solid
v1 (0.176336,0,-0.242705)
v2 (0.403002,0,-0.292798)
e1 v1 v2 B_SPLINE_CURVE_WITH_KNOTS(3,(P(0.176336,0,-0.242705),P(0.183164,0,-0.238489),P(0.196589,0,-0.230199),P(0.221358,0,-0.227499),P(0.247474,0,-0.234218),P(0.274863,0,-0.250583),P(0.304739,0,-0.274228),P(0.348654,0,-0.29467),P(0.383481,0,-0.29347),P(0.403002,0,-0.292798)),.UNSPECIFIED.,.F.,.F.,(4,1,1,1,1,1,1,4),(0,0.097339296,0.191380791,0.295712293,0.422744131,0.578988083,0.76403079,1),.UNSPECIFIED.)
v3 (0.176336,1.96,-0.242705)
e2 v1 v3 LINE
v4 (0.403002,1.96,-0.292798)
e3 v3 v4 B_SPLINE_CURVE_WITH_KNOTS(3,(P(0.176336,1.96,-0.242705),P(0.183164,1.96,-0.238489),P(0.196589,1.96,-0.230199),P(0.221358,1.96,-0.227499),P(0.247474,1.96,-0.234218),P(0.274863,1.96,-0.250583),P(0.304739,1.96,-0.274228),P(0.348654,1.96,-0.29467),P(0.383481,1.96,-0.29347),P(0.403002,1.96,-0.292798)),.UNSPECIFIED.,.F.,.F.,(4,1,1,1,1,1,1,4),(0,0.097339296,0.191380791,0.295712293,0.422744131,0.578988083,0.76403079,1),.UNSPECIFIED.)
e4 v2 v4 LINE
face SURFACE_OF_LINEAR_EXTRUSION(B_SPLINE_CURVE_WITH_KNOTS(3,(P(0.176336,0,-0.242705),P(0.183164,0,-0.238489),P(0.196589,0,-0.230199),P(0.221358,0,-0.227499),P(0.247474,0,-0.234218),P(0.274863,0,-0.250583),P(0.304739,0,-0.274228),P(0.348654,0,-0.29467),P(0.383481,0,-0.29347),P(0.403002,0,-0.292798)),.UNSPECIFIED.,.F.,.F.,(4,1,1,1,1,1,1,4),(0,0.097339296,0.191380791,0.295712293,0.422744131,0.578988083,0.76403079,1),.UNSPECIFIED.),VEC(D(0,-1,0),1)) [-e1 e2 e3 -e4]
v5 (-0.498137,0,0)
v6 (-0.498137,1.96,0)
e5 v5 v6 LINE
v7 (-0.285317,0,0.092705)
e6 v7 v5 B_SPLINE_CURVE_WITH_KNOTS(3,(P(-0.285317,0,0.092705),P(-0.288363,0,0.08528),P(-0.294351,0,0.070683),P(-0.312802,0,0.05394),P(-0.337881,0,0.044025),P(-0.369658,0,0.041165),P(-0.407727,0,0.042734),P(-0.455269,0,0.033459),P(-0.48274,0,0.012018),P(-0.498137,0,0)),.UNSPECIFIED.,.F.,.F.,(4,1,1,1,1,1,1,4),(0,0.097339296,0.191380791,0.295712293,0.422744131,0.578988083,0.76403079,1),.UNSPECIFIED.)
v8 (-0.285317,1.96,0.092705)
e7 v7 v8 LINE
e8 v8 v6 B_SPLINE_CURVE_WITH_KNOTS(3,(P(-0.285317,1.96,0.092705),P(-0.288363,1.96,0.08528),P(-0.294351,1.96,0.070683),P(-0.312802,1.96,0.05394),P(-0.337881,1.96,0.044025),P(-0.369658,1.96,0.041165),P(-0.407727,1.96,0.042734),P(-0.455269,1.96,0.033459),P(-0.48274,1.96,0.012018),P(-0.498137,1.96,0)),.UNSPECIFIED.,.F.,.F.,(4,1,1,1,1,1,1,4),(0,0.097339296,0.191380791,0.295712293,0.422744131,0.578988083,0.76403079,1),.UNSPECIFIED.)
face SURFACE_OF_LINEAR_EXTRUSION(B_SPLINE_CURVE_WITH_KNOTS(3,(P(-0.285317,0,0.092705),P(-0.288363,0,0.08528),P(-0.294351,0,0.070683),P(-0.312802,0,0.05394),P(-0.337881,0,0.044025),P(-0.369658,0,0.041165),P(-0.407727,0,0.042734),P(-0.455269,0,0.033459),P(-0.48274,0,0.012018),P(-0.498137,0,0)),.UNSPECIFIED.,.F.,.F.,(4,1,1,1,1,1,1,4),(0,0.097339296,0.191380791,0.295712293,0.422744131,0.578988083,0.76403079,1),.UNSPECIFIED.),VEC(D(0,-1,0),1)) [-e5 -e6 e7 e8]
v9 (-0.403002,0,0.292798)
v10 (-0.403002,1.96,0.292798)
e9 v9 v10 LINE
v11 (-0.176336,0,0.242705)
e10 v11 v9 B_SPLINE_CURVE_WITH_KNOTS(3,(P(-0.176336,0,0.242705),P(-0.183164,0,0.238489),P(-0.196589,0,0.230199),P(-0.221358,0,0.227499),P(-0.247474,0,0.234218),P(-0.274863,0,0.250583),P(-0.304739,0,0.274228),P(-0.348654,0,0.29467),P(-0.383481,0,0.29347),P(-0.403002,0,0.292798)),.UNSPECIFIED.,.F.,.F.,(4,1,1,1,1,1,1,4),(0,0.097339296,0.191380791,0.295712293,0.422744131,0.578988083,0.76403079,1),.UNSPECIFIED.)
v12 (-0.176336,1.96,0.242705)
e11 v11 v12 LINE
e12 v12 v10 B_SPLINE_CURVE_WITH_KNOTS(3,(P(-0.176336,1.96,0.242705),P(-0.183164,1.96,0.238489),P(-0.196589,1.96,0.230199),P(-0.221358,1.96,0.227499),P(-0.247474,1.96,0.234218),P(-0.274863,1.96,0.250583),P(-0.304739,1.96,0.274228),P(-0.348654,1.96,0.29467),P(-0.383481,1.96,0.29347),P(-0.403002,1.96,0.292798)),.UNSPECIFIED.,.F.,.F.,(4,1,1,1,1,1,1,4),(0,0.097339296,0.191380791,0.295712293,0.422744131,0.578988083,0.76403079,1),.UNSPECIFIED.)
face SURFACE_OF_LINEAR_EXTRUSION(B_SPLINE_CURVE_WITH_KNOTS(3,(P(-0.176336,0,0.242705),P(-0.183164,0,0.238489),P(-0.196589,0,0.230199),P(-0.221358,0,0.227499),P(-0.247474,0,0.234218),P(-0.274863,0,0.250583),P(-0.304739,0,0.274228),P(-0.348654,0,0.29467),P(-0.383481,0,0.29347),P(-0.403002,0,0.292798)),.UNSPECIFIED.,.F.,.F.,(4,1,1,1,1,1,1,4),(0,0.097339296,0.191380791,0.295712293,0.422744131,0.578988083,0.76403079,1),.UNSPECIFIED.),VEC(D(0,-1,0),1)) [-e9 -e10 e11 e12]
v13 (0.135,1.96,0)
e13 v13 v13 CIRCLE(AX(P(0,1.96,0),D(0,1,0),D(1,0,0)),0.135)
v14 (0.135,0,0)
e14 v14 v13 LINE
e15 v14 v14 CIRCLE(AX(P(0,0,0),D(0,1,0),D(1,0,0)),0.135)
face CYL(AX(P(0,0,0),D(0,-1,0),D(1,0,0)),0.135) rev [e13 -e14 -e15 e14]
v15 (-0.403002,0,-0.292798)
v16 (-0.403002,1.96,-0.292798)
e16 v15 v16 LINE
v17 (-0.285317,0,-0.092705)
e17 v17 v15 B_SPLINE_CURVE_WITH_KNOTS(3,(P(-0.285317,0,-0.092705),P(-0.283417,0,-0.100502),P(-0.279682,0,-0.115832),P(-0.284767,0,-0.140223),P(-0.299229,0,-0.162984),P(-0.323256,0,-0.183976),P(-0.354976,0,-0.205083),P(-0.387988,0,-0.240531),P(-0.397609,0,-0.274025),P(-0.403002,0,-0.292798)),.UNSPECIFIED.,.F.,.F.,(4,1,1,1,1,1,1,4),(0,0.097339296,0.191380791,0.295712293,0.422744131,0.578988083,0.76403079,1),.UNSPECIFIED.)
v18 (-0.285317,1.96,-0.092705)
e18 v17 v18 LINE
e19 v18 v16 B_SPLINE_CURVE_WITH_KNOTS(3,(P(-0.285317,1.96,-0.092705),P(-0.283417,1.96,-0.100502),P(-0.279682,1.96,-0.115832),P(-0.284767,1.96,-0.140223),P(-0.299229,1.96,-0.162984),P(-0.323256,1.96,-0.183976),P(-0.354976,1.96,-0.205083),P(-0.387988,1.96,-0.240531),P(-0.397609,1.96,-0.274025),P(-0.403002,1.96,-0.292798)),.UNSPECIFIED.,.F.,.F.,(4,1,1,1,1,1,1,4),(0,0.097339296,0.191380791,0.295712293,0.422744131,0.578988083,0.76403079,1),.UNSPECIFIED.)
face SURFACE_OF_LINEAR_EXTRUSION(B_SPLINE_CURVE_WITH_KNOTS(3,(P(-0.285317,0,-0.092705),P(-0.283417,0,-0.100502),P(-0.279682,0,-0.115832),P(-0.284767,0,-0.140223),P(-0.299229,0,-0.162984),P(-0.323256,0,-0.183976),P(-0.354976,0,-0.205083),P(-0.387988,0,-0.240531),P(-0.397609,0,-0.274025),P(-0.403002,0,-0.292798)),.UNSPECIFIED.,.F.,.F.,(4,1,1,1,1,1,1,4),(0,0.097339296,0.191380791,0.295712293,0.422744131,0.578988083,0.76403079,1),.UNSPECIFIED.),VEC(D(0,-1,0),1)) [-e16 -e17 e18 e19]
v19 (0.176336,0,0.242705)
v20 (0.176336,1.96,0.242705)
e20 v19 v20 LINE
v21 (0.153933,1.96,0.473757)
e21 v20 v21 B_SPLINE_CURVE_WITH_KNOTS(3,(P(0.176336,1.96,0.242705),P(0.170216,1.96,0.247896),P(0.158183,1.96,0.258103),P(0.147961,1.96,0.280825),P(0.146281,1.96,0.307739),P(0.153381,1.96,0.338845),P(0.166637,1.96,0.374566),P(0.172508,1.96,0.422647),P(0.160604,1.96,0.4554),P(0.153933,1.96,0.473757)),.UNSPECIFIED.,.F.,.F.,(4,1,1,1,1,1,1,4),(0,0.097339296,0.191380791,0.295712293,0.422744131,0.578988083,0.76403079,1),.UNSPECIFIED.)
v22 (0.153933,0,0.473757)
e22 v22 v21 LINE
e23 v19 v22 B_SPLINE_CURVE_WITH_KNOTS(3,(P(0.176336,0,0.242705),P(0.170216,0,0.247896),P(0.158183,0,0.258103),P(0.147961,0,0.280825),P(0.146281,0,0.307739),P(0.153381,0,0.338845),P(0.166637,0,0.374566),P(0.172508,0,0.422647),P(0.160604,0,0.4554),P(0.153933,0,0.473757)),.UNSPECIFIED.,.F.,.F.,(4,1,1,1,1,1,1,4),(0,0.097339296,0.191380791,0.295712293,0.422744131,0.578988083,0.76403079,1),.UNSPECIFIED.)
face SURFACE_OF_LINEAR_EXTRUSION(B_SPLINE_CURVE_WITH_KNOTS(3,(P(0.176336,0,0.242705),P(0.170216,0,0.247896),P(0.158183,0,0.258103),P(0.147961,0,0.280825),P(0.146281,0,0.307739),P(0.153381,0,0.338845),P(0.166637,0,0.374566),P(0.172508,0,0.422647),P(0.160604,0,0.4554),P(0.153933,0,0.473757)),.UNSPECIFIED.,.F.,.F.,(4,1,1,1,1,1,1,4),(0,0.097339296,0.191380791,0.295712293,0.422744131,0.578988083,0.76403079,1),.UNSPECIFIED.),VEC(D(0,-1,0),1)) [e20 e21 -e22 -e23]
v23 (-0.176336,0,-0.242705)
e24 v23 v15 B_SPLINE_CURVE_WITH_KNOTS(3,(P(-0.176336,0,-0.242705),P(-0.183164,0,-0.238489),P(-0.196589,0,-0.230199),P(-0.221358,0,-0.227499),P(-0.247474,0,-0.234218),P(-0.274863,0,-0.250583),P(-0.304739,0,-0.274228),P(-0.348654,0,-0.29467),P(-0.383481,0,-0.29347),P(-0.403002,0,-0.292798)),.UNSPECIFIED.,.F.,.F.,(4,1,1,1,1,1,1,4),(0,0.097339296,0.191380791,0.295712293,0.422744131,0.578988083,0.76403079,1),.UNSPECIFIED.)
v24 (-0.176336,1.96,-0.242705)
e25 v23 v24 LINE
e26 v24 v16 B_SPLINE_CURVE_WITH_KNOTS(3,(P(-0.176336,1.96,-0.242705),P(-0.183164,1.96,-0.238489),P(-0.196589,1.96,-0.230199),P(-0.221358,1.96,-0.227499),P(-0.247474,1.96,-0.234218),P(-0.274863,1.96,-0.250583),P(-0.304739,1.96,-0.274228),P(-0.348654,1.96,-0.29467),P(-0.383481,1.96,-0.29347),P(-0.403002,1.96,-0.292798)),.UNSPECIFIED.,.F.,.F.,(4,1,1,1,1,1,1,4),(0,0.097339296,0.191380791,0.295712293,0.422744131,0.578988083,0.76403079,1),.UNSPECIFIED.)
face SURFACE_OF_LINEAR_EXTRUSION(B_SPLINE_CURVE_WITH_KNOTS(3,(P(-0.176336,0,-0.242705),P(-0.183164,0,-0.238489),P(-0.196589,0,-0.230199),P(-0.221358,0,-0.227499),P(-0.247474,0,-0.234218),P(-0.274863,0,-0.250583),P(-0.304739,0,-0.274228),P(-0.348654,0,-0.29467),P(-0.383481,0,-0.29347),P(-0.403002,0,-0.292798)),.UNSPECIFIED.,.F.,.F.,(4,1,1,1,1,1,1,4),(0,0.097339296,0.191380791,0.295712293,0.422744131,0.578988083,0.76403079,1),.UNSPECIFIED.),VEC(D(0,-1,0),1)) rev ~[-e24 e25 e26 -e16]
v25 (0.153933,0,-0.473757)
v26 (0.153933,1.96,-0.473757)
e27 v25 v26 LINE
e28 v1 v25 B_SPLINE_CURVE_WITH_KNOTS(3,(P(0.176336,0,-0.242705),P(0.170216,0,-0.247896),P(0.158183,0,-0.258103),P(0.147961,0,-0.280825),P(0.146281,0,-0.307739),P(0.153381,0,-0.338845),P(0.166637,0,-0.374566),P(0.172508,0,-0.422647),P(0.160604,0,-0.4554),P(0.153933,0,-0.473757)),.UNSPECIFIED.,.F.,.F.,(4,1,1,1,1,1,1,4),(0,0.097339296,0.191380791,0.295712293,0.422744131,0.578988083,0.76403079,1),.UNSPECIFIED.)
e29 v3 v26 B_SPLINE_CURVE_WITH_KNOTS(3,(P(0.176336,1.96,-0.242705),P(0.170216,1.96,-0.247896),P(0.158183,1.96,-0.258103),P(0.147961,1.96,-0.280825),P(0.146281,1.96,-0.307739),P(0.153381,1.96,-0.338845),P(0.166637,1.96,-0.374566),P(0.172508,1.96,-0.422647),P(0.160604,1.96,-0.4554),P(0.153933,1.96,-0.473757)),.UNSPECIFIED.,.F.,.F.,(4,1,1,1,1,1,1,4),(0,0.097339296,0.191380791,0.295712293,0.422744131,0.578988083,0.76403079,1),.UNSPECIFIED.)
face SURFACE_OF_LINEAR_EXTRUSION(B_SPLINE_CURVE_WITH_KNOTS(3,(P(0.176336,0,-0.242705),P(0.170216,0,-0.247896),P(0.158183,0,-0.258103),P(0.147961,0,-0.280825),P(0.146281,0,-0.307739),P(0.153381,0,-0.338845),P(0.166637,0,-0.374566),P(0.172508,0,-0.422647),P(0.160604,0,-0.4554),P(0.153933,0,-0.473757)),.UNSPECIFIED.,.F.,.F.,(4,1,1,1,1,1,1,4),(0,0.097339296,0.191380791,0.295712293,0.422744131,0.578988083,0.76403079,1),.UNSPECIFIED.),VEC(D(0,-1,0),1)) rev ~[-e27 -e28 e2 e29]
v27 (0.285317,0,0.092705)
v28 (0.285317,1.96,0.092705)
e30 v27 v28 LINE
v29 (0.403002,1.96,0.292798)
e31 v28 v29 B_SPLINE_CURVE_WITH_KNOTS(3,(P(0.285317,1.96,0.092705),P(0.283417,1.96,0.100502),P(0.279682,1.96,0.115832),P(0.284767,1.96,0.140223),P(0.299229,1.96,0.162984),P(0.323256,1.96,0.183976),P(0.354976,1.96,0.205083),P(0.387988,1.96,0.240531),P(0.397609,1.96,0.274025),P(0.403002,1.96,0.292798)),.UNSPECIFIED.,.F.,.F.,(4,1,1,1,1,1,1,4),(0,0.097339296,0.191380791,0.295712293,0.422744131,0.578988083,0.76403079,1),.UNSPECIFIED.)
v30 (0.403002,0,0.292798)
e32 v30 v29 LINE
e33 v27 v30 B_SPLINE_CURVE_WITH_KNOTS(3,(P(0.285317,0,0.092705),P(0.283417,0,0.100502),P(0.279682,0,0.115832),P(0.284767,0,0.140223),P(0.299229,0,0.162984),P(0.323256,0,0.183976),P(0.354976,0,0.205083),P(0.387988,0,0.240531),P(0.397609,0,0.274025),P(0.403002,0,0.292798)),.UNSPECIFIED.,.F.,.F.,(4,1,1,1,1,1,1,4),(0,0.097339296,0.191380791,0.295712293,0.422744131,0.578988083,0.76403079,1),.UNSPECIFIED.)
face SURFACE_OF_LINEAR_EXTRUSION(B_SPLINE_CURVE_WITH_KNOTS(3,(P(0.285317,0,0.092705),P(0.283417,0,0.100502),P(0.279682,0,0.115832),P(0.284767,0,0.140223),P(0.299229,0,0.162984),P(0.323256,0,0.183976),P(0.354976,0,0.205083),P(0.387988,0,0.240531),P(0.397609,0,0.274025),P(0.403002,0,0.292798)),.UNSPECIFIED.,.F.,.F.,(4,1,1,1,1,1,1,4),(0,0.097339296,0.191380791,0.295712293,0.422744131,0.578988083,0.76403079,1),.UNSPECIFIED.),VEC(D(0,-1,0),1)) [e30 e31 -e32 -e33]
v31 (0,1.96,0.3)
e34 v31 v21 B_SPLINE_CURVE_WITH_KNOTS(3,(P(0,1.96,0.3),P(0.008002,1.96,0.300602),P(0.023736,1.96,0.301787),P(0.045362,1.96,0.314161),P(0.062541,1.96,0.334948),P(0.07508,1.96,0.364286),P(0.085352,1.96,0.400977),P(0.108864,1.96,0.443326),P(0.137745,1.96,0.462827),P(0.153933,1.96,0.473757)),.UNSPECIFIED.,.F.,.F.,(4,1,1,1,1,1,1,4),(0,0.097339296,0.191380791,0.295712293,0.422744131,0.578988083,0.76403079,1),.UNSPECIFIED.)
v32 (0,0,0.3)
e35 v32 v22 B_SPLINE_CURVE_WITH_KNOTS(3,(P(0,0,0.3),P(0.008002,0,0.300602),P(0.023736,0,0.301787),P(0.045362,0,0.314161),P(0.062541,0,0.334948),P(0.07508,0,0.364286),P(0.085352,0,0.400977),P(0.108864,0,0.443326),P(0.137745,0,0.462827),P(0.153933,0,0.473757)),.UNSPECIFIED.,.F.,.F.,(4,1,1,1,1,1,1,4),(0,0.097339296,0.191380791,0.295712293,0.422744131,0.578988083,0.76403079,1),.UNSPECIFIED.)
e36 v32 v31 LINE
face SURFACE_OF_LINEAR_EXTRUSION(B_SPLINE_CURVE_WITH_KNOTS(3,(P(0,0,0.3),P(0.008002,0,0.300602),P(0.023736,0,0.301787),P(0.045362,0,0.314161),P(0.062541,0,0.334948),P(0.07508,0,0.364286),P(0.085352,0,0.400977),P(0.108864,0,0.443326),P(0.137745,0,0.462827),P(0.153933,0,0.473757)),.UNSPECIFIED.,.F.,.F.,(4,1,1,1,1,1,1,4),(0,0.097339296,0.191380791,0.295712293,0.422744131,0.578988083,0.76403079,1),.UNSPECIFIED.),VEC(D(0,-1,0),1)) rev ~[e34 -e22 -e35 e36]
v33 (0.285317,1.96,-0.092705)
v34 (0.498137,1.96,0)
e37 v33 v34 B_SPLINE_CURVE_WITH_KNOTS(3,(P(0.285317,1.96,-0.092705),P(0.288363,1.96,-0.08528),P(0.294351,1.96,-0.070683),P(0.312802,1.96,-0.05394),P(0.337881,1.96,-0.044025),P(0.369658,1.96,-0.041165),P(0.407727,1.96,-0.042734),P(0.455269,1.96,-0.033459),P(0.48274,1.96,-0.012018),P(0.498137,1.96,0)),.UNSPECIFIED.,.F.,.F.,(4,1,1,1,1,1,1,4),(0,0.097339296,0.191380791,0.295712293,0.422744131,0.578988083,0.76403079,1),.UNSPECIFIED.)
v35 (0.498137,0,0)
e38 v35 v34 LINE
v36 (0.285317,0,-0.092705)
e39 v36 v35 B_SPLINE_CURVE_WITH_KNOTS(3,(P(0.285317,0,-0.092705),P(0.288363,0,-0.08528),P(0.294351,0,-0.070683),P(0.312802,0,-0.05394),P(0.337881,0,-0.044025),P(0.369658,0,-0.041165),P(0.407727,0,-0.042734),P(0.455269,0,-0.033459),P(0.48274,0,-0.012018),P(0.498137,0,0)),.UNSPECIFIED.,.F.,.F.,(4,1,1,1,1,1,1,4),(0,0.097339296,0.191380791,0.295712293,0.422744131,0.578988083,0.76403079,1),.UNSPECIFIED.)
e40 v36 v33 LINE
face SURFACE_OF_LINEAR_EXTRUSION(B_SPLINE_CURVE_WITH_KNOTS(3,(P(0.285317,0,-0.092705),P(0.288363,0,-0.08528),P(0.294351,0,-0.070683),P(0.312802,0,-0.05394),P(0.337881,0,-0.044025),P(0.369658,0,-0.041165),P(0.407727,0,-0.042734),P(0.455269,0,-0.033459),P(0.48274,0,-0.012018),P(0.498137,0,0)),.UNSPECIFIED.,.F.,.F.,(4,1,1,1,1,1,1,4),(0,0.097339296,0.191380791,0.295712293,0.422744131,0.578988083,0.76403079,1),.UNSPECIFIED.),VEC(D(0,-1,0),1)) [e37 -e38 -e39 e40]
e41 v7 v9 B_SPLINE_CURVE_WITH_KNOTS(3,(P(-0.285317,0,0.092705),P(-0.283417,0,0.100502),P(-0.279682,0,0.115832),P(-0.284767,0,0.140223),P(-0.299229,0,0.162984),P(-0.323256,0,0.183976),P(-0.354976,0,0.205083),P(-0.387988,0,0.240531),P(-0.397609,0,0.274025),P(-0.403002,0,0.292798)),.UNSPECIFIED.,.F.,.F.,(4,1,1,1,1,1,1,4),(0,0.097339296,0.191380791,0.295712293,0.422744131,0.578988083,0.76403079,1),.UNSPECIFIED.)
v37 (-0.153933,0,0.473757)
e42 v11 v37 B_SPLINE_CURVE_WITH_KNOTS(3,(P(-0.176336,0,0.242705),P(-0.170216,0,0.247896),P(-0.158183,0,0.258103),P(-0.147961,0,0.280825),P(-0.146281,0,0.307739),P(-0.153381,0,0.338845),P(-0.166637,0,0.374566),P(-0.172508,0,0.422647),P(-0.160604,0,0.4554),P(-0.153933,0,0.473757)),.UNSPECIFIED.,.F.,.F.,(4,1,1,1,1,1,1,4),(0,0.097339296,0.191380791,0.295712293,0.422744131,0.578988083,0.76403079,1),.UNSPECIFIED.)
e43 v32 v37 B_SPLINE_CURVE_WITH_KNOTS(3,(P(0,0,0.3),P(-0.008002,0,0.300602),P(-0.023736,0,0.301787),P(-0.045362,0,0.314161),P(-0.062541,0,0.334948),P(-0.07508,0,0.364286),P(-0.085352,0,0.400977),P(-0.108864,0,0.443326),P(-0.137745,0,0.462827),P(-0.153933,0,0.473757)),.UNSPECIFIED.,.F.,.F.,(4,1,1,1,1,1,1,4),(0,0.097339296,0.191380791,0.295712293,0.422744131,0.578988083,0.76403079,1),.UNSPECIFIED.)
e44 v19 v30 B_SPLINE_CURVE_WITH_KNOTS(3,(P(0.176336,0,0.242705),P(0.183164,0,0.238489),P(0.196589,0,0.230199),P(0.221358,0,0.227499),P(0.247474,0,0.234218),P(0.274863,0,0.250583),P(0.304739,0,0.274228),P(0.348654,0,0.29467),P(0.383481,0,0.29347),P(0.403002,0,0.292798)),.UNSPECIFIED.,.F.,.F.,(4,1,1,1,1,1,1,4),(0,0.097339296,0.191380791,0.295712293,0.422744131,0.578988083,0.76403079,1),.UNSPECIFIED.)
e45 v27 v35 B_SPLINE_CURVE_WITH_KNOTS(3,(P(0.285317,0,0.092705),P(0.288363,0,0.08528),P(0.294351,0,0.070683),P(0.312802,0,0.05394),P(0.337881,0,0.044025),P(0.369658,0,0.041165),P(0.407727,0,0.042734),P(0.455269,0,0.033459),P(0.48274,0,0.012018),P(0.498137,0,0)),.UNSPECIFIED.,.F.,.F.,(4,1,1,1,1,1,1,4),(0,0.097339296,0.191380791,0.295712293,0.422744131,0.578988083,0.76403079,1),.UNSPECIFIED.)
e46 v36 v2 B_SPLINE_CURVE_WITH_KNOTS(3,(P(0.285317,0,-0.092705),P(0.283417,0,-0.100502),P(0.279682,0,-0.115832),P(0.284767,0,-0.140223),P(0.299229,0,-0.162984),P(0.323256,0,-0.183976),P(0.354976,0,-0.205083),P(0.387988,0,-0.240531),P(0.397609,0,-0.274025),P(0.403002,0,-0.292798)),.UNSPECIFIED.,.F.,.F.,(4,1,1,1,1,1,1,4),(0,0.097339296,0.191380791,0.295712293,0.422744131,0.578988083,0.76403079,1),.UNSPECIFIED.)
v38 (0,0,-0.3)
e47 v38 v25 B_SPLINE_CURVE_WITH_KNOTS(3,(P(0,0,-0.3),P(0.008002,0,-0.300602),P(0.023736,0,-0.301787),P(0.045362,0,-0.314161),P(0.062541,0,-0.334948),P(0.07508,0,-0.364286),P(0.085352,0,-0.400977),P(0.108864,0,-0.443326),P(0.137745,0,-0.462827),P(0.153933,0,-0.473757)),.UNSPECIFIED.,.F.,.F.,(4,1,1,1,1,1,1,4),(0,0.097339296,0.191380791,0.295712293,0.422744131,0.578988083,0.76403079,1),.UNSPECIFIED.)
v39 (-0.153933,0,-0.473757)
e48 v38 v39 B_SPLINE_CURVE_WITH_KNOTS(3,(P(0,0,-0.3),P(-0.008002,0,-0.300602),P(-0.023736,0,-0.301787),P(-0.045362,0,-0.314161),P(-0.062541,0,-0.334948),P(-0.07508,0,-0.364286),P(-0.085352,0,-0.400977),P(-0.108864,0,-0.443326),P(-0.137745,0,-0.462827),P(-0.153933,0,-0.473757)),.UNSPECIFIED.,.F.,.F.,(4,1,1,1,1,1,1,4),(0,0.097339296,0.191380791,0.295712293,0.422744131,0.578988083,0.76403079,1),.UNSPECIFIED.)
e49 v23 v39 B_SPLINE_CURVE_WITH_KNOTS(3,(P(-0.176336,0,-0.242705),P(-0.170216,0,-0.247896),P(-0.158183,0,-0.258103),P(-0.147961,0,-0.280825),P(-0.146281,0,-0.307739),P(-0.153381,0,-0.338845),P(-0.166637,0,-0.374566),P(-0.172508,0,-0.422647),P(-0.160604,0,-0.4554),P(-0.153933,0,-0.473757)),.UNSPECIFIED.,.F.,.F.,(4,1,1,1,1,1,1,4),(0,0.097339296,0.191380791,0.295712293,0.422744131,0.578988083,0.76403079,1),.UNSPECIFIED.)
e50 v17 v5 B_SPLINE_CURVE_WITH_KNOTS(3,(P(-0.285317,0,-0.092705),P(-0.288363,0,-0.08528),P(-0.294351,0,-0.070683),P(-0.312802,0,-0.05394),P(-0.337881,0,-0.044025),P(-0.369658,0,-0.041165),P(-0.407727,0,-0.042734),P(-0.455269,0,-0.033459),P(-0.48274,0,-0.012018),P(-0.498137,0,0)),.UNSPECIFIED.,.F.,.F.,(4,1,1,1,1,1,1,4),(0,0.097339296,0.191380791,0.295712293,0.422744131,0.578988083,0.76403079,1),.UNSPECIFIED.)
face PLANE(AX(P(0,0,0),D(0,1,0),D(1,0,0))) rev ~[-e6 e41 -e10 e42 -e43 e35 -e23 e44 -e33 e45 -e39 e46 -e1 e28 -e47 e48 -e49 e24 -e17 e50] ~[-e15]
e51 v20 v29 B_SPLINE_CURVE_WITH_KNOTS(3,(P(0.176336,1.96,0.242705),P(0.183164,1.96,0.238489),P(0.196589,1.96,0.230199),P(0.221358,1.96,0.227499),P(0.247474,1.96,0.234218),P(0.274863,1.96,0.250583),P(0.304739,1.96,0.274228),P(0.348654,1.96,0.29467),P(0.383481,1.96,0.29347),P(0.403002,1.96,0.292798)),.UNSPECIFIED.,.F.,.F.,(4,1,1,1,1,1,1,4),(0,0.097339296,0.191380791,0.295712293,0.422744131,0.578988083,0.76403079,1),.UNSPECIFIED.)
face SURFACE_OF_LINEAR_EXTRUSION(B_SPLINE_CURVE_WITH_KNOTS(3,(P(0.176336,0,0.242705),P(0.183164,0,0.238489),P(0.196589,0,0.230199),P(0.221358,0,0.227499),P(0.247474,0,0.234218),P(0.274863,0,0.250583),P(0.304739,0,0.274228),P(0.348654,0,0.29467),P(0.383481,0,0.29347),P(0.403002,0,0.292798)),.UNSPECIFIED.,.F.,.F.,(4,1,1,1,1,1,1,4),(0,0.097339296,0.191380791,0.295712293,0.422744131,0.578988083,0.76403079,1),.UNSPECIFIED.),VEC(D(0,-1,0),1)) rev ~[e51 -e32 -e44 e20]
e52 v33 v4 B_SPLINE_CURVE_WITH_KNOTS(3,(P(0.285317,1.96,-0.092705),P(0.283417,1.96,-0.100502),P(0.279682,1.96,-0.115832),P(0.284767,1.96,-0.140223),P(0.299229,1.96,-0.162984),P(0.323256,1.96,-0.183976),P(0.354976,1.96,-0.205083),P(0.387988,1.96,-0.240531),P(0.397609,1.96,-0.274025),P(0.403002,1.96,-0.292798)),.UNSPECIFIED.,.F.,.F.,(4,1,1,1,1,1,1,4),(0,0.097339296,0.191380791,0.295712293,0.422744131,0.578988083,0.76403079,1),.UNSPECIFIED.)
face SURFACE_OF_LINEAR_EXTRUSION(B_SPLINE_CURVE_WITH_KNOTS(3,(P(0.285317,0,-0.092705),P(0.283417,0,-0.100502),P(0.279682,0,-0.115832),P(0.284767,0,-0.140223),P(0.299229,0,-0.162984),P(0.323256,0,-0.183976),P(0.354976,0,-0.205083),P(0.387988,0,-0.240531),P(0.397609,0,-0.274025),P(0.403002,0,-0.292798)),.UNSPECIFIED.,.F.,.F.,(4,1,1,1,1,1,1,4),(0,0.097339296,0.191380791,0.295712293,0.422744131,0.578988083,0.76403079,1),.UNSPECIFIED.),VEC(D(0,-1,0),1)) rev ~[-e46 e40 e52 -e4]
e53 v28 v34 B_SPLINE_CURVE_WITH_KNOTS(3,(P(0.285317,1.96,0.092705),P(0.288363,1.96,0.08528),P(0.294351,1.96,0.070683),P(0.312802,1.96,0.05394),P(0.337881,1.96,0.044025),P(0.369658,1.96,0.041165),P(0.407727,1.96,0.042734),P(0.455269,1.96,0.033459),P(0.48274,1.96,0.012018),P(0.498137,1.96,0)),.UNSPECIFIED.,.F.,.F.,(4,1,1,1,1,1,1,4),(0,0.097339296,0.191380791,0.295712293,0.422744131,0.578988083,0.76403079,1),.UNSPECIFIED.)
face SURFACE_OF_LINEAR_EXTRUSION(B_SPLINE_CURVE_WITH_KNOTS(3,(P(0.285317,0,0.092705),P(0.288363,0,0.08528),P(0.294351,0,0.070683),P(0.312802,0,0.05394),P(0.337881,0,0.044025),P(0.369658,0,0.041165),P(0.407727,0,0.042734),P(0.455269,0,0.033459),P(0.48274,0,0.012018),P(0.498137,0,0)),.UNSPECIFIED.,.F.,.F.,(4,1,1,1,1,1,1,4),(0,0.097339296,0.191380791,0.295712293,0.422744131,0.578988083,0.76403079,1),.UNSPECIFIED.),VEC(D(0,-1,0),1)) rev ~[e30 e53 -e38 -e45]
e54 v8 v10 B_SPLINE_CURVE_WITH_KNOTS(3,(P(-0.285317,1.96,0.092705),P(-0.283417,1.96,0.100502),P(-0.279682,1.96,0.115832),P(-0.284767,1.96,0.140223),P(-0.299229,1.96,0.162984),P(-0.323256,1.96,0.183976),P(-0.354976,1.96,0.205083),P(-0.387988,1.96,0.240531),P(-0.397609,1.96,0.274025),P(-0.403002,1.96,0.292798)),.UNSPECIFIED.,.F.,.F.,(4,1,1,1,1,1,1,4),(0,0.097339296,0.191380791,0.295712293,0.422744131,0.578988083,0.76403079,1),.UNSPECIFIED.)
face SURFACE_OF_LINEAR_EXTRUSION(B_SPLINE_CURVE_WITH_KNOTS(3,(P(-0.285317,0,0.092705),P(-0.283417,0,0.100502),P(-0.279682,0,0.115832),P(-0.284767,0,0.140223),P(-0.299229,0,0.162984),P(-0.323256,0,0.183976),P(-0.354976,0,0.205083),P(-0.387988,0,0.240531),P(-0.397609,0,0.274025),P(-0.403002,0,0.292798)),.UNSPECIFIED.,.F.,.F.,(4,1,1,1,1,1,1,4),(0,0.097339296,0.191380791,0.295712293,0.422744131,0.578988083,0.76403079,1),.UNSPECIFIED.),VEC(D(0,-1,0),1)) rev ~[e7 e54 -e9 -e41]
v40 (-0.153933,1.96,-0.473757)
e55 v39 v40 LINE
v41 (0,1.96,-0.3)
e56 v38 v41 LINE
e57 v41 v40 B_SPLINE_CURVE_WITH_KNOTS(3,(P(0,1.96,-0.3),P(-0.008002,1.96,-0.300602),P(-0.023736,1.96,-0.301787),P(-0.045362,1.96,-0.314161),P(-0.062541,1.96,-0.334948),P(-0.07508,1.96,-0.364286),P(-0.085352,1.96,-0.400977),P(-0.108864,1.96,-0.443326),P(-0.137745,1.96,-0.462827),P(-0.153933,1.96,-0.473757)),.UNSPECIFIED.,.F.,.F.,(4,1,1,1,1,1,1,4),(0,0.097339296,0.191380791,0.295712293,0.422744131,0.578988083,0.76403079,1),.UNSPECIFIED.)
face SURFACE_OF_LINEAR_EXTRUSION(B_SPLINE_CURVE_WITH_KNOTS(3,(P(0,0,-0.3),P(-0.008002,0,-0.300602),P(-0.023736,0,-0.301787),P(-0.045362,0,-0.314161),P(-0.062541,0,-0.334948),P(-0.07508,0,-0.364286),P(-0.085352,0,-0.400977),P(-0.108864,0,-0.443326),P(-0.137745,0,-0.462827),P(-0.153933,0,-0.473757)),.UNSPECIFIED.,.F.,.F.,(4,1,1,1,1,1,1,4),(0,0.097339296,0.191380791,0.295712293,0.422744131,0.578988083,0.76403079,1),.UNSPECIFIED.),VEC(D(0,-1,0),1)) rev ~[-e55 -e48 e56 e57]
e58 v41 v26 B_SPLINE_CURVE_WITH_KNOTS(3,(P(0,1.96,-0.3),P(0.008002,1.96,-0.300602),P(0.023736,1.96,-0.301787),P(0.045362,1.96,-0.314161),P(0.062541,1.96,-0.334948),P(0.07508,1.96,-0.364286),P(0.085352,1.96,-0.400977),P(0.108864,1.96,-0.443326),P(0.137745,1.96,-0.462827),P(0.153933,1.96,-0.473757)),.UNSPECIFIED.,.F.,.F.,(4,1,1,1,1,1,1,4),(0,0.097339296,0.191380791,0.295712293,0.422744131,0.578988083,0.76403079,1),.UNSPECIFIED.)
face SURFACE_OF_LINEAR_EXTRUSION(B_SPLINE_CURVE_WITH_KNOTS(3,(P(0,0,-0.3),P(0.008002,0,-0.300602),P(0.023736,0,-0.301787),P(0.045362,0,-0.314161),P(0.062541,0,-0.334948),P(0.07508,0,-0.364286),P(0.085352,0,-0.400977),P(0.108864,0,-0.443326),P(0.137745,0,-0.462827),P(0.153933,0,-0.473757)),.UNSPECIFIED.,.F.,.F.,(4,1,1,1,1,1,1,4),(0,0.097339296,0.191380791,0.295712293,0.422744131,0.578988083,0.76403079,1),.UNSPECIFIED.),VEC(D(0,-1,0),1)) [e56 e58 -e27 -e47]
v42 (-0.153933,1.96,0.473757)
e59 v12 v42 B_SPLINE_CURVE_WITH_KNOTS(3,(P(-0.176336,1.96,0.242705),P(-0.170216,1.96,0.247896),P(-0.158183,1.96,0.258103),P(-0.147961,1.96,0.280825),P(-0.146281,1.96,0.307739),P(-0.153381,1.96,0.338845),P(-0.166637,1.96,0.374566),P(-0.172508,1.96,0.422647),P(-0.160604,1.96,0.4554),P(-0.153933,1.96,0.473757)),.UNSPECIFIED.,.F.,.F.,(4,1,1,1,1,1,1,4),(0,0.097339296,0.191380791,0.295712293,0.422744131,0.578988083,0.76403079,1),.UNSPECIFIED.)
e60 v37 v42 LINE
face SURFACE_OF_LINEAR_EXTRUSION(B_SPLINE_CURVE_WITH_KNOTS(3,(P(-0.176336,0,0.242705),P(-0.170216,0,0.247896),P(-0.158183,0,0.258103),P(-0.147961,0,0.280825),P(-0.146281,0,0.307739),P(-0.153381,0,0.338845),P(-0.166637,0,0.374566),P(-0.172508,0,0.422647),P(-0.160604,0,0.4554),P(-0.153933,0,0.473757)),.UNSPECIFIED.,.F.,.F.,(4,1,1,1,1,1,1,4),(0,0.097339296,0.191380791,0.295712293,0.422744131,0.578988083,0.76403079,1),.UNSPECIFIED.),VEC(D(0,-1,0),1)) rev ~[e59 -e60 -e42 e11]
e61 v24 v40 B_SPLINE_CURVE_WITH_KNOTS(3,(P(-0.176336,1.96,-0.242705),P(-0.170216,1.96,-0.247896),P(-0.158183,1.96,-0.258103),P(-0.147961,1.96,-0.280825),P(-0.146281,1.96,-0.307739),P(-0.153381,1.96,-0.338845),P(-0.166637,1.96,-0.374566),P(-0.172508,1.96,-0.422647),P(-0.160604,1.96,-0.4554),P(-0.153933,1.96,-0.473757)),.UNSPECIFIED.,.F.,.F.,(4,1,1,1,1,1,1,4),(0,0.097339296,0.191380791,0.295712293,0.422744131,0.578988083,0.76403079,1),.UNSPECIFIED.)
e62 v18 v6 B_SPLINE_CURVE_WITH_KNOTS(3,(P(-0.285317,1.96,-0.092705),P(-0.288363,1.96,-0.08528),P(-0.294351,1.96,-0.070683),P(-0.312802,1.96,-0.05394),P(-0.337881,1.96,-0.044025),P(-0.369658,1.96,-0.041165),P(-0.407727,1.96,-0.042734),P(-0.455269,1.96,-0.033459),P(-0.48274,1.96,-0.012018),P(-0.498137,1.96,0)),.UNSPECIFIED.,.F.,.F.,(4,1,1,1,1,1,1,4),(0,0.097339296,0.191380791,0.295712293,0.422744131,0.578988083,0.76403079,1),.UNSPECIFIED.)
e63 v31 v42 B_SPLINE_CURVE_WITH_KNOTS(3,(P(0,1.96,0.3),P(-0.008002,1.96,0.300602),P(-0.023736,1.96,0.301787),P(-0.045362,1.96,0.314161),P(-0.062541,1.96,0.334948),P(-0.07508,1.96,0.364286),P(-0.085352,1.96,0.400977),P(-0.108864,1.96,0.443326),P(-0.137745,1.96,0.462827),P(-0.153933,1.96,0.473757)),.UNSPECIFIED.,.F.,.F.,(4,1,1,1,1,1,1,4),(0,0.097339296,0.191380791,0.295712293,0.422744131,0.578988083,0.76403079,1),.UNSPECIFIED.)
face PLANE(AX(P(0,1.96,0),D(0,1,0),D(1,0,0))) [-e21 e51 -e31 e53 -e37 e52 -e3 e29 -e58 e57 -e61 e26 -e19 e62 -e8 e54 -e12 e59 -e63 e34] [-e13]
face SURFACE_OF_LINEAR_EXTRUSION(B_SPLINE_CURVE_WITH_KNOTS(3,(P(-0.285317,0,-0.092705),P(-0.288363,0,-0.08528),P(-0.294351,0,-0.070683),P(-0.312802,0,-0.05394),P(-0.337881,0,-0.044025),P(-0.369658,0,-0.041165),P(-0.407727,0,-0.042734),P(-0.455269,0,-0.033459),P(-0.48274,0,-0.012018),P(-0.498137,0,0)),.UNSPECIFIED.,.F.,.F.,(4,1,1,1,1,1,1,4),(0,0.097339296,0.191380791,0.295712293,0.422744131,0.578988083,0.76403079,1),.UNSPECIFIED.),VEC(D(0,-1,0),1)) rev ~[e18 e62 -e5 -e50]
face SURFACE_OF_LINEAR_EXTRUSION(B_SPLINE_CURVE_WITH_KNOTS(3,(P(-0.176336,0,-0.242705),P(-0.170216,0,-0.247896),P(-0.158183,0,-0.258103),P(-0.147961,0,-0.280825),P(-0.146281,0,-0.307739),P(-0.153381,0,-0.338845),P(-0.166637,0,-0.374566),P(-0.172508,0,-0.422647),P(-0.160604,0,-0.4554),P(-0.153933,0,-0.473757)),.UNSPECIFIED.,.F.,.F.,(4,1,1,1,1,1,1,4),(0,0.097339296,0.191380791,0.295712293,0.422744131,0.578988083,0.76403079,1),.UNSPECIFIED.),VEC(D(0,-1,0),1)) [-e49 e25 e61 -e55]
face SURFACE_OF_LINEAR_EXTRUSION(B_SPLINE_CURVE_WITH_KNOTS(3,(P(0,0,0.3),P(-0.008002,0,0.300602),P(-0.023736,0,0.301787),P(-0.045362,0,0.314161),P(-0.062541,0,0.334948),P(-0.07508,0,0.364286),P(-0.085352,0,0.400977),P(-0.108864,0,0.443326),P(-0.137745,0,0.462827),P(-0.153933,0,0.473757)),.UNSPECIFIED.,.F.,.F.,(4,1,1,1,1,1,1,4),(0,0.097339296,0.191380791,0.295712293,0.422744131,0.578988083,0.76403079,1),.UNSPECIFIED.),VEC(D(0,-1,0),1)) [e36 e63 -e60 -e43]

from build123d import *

# Parameters (mm, degrees)
SKETCH1_R           = 0.135
BOSS_EXTRUDE1_DEPTH = 1.96


with BuildPart() as part:
    # Sketch1 → Boss-Extrude1 (new body)
    with BuildSketch(Plane(origin=(0, 0, 0), x_dir=(1, 0, 0), z_dir=(0, 1, 0))):
        with BuildLine():
            add(Edge.make_bspline(
                [(0, 0.3), (-0.008002457, 0.300602495), (-0.023736253, 0.301787073), (-0.045361581, 0.314161102), (-0.062540556, 0.334948279), (-0.075080185, 0.364286352), (-0.085352075, 0.400976515), (-0.108864183, 0.443326409), (-0.137745473, 0.462827005), (-0.153932889, 0.473756719)],
                knots=[0, 0, 0, 0, 0.097339296, 0.191380791, 0.295712293, 0.422744131, 0.578988083, 0.76403079, 1, 1, 1, 1], degree=3))
            add(Edge.make_bspline(
                [(-0.176335576, 0.242705098), (-0.170215589, 0.247896254), (-0.158182958, 0.258102691), (-0.147960973, 0.280824539), (-0.146281286, 0.307739267), (-0.153381, 0.338844875), (-0.166636802, 0.374565506), (-0.172507751, 0.422647361), (-0.160604459, 0.45539967), (-0.153932889, 0.473756719)],
                knots=[0, 0, 0, 0, 0.097339296, 0.191380791, 0.295712293, 0.422744131, 0.578988083, 0.76403079, 1, 1, 1, 1], degree=3))
            add(Edge.make_bspline(
                [(-0.176335576, 0.242705098), (-0.183163837, 0.238488801), (-0.196589023, 0.230199051), (-0.221357552, 0.227498802), (-0.247474031, 0.234218434), (-0.274863291, 0.250582824), (-0.304739361, 0.274228124), (-0.3486537, 0.294669838), (-0.383481316, 0.293470155), (-0.403001536, 0.292797755)],
                knots=[0, 0, 0, 0, 0.097339296, 0.191380791, 0.295712293, 0.422744131, 0.578988083, 0.76403079, 1, 1, 1, 1], degree=3))
            add(Edge.make_bspline(
                [(-0.285316955, 0.092705098), (-0.283417066, 0.100502069), (-0.279681657, 0.115831853), (-0.284767464, 0.140222546), (-0.299228649, 0.162984314), (-0.323255856, 0.183976173), (-0.354976085, 0.205083205), (-0.387987588, 0.240531385), (-0.397608947, 0.27402514), (-0.403001536, 0.292797755)],
                knots=[0, 0, 0, 0, 0.097339296, 0.191380791, 0.295712293, 0.422744131, 0.578988083, 0.76403079, 1, 1, 1, 1], degree=3))
            add(Edge.make_bspline(
                [(-0.285316955, 0.092705098), (-0.288362857, 0.08528049), (-0.294351468, 0.070682816), (-0.312802462, 0.053939692), (-0.337880838, 0.044025107), (-0.369657962, 0.041165175), (-0.407726569, 0.04273391), (-0.455269353, 0.033459404), (-0.482740331, 0.01201768), (-0.498137294, 0)],
                knots=[0, 0, 0, 0, 0.097339296, 0.191380791, 0.295712293, 0.422744131, 0.578988083, 0.76403079, 1, 1, 1, 1], degree=3))
            add(Edge.make_bspline(
                [(-0.285316955, -0.092705098), (-0.288362857, -0.08528049), (-0.294351468, -0.070682816), (-0.312802462, -0.053939692), (-0.337880838, -0.044025107), (-0.369657962, -0.041165175), (-0.407726569, -0.04273391), (-0.455269353, -0.033459404), (-0.482740331, -0.01201768), (-0.498137294, 0)],
                knots=[0, 0, 0, 0, 0.097339296, 0.191380791, 0.295712293, 0.422744131, 0.578988083, 0.76403079, 1, 1, 1, 1], degree=3))
            add(Edge.make_bspline(
                [(-0.285316955, -0.092705098), (-0.283417066, -0.100502069), (-0.279681657, -0.115831853), (-0.284767464, -0.140222546), (-0.299228649, -0.162984314), (-0.323255856, -0.183976173), (-0.354976085, -0.205083205), (-0.387987588, -0.240531385), (-0.397608947, -0.27402514), (-0.403001536, -0.292797755)],
                knots=[0, 0, 0, 0, 0.097339296, 0.191380791, 0.295712293, 0.422744131, 0.578988083, 0.76403079, 1, 1, 1, 1], degree=3))
            add(Edge.make_bspline(
                [(-0.176335576, -0.242705098), (-0.183163837, -0.238488801), (-0.196589023, -0.230199051), (-0.221357552, -0.227498802), (-0.247474031, -0.234218434), (-0.274863291, -0.250582824), (-0.304739361, -0.274228124), (-0.3486537, -0.294669838), (-0.383481316, -0.293470155), (-0.403001536, -0.292797755)],
                knots=[0, 0, 0, 0, 0.097339296, 0.191380791, 0.295712293, 0.422744131, 0.578988083, 0.76403079, 1, 1, 1, 1], degree=3))
            add(Edge.make_bspline(
                [(-0.176335576, -0.242705098), (-0.170215589, -0.247896254), (-0.158182958, -0.258102691), (-0.147960973, -0.280824539), (-0.146281286, -0.307739267), (-0.153381, -0.338844875), (-0.166636802, -0.374565506), (-0.172507751, -0.422647361), (-0.160604459, -0.45539967), (-0.153932889, -0.473756719)],
                knots=[0, 0, 0, 0, 0.097339296, 0.191380791, 0.295712293, 0.422744131, 0.578988083, 0.76403079, 1, 1, 1, 1], degree=3))
            add(Edge.make_bspline(
                [(0, -0.3), (-0.008002457, -0.300602495), (-0.023736253, -0.301787073), (-0.045361581, -0.314161102), (-0.062540556, -0.334948279), (-0.075080185, -0.364286352), (-0.085352075, -0.400976515), (-0.108864183, -0.443326409), (-0.137745473, -0.462827005), (-0.153932889, -0.473756719)],
                knots=[0, 0, 0, 0, 0.097339296, 0.191380791, 0.295712293, 0.422744131, 0.578988083, 0.76403079, 1, 1, 1, 1], degree=3))
            add(Edge.make_bspline(
                [(0, -0.3), (0.008002457, -0.300602495), (0.023736253, -0.301787073), (0.045361581, -0.314161102), (0.062540556, -0.334948279), (0.075080185, -0.364286352), (0.085352075, -0.400976515), (0.108864183, -0.443326409), (0.137745473, -0.462827005), (0.153932889, -0.473756719)],
                knots=[0, 0, 0, 0, 0.097339296, 0.191380791, 0.295712293, 0.422744131, 0.578988083, 0.76403079, 1, 1, 1, 1], degree=3))
            add(Edge.make_bspline(
                [(0.176335576, -0.242705098), (0.170215589, -0.247896254), (0.158182958, -0.258102691), (0.147960973, -0.280824539), (0.146281286, -0.307739267), (0.153381, -0.338844875), (0.166636802, -0.374565506), (0.172507751, -0.422647361), (0.160604459, -0.45539967), (0.153932889, -0.473756719)],
                knots=[0, 0, 0, 0, 0.097339296, 0.191380791, 0.295712293, 0.422744131, 0.578988083, 0.76403079, 1, 1, 1, 1], degree=3))
            add(Edge.make_bspline(
                [(0.176335576, -0.242705098), (0.183163837, -0.238488801), (0.196589023, -0.230199051), (0.221357552, -0.227498802), (0.247474031, -0.234218434), (0.274863291, -0.250582824), (0.304739361, -0.274228124), (0.3486537, -0.294669838), (0.383481316, -0.293470155), (0.403001536, -0.292797755)],
                knots=[0, 0, 0, 0, 0.097339296, 0.191380791, 0.295712293, 0.422744131, 0.578988083, 0.76403079, 1, 1, 1, 1], degree=3))
            add(Edge.make_bspline(
                [(0.285316955, -0.092705098), (0.283417066, -0.100502069), (0.279681657, -0.115831853), (0.284767464, -0.140222546), (0.299228649, -0.162984314), (0.323255856, -0.183976173), (0.354976085, -0.205083205), (0.387987588, -0.240531385), (0.397608947, -0.27402514), (0.403001536, -0.292797755)],
                knots=[0, 0, 0, 0, 0.097339296, 0.191380791, 0.295712293, 0.422744131, 0.578988083, 0.76403079, 1, 1, 1, 1], degree=3))
            add(Edge.make_bspline(
                [(0.285316955, -0.092705098), (0.288362857, -0.08528049), (0.294351468, -0.070682816), (0.312802462, -0.053939692), (0.337880838, -0.044025107), (0.369657962, -0.041165175), (0.407726569, -0.04273391), (0.455269353, -0.033459404), (0.482740331, -0.01201768), (0.498137294, 0)],
                knots=[0, 0, 0, 0, 0.097339296, 0.191380791, 0.295712293, 0.422744131, 0.578988083, 0.76403079, 1, 1, 1, 1], degree=3))
            add(Edge.make_bspline(
                [(0.285316955, 0.092705098), (0.288362857, 0.08528049), (0.294351468, 0.070682816), (0.312802462, 0.053939692), (0.337880838, 0.044025107), (0.369657962, 0.041165175), (0.407726569, 0.04273391), (0.455269353, 0.033459404), (0.482740331, 0.01201768), (0.498137294, 0)],
                knots=[0, 0, 0, 0, 0.097339296, 0.191380791, 0.295712293, 0.422744131, 0.578988083, 0.76403079, 1, 1, 1, 1], degree=3))
            add(Edge.make_bspline(
                [(0.285316955, 0.092705098), (0.283417066, 0.100502069), (0.279681657, 0.115831853), (0.284767464, 0.140222546), (0.299228649, 0.162984314), (0.323255856, 0.183976173), (0.354976085, 0.205083205), (0.387987588, 0.240531385), (0.397608947, 0.27402514), (0.403001536, 0.292797755)],
                knots=[0, 0, 0, 0, 0.097339296, 0.191380791, 0.295712293, 0.422744131, 0.578988083, 0.76403079, 1, 1, 1, 1], degree=3))
            add(Edge.make_bspline(
                [(0.176335576, 0.242705098), (0.183163837, 0.238488801), (0.196589023, 0.230199051), (0.221357552, 0.227498802), (0.247474031, 0.234218434), (0.274863291, 0.250582824), (0.304739361, 0.274228124), (0.3486537, 0.294669838), (0.383481316, 0.293470155), (0.403001536, 0.292797755)],
                knots=[0, 0, 0, 0, 0.097339296, 0.191380791, 0.295712293, 0.422744131, 0.578988083, 0.76403079, 1, 1, 1, 1], degree=3))
            add(Edge.make_bspline(
                [(0.176335576, 0.242705098), (0.170215589, 0.247896254), (0.158182958, 0.258102691), (0.147960973, 0.280824539), (0.146281286, 0.307739267), (0.153381, 0.338844875), (0.166636802, 0.374565506), (0.172507751, 0.422647361), (0.160604459, 0.45539967), (0.153932889, 0.473756719)],
                knots=[0, 0, 0, 0, 0.097339296, 0.191380791, 0.295712293, 0.422744131, 0.578988083, 0.76403079, 1, 1, 1, 1], degree=3))
            add(Edge.make_bspline(
                [(0, 0.3), (0.008002457, 0.300602495), (0.023736253, 0.301787073), (0.045361581, 0.314161102), (0.062540556, 0.334948279), (0.075080185, 0.364286352), (0.085352075, 0.400976515), (0.108864183, 0.443326409), (0.137745473, 0.462827005), (0.153932889, 0.473756719)],
                knots=[0, 0, 0, 0, 0.097339296, 0.191380791, 0.295712293, 0.422744131, 0.578988083, 0.76403079, 1, 1, 1, 1], degree=3))
        make_face()
        Circle(SKETCH1_R, mode=Mode.SUBTRACT)
    extrude(amount=BOSS_EXTRUDE1_DEPTH)


solid = part.part
